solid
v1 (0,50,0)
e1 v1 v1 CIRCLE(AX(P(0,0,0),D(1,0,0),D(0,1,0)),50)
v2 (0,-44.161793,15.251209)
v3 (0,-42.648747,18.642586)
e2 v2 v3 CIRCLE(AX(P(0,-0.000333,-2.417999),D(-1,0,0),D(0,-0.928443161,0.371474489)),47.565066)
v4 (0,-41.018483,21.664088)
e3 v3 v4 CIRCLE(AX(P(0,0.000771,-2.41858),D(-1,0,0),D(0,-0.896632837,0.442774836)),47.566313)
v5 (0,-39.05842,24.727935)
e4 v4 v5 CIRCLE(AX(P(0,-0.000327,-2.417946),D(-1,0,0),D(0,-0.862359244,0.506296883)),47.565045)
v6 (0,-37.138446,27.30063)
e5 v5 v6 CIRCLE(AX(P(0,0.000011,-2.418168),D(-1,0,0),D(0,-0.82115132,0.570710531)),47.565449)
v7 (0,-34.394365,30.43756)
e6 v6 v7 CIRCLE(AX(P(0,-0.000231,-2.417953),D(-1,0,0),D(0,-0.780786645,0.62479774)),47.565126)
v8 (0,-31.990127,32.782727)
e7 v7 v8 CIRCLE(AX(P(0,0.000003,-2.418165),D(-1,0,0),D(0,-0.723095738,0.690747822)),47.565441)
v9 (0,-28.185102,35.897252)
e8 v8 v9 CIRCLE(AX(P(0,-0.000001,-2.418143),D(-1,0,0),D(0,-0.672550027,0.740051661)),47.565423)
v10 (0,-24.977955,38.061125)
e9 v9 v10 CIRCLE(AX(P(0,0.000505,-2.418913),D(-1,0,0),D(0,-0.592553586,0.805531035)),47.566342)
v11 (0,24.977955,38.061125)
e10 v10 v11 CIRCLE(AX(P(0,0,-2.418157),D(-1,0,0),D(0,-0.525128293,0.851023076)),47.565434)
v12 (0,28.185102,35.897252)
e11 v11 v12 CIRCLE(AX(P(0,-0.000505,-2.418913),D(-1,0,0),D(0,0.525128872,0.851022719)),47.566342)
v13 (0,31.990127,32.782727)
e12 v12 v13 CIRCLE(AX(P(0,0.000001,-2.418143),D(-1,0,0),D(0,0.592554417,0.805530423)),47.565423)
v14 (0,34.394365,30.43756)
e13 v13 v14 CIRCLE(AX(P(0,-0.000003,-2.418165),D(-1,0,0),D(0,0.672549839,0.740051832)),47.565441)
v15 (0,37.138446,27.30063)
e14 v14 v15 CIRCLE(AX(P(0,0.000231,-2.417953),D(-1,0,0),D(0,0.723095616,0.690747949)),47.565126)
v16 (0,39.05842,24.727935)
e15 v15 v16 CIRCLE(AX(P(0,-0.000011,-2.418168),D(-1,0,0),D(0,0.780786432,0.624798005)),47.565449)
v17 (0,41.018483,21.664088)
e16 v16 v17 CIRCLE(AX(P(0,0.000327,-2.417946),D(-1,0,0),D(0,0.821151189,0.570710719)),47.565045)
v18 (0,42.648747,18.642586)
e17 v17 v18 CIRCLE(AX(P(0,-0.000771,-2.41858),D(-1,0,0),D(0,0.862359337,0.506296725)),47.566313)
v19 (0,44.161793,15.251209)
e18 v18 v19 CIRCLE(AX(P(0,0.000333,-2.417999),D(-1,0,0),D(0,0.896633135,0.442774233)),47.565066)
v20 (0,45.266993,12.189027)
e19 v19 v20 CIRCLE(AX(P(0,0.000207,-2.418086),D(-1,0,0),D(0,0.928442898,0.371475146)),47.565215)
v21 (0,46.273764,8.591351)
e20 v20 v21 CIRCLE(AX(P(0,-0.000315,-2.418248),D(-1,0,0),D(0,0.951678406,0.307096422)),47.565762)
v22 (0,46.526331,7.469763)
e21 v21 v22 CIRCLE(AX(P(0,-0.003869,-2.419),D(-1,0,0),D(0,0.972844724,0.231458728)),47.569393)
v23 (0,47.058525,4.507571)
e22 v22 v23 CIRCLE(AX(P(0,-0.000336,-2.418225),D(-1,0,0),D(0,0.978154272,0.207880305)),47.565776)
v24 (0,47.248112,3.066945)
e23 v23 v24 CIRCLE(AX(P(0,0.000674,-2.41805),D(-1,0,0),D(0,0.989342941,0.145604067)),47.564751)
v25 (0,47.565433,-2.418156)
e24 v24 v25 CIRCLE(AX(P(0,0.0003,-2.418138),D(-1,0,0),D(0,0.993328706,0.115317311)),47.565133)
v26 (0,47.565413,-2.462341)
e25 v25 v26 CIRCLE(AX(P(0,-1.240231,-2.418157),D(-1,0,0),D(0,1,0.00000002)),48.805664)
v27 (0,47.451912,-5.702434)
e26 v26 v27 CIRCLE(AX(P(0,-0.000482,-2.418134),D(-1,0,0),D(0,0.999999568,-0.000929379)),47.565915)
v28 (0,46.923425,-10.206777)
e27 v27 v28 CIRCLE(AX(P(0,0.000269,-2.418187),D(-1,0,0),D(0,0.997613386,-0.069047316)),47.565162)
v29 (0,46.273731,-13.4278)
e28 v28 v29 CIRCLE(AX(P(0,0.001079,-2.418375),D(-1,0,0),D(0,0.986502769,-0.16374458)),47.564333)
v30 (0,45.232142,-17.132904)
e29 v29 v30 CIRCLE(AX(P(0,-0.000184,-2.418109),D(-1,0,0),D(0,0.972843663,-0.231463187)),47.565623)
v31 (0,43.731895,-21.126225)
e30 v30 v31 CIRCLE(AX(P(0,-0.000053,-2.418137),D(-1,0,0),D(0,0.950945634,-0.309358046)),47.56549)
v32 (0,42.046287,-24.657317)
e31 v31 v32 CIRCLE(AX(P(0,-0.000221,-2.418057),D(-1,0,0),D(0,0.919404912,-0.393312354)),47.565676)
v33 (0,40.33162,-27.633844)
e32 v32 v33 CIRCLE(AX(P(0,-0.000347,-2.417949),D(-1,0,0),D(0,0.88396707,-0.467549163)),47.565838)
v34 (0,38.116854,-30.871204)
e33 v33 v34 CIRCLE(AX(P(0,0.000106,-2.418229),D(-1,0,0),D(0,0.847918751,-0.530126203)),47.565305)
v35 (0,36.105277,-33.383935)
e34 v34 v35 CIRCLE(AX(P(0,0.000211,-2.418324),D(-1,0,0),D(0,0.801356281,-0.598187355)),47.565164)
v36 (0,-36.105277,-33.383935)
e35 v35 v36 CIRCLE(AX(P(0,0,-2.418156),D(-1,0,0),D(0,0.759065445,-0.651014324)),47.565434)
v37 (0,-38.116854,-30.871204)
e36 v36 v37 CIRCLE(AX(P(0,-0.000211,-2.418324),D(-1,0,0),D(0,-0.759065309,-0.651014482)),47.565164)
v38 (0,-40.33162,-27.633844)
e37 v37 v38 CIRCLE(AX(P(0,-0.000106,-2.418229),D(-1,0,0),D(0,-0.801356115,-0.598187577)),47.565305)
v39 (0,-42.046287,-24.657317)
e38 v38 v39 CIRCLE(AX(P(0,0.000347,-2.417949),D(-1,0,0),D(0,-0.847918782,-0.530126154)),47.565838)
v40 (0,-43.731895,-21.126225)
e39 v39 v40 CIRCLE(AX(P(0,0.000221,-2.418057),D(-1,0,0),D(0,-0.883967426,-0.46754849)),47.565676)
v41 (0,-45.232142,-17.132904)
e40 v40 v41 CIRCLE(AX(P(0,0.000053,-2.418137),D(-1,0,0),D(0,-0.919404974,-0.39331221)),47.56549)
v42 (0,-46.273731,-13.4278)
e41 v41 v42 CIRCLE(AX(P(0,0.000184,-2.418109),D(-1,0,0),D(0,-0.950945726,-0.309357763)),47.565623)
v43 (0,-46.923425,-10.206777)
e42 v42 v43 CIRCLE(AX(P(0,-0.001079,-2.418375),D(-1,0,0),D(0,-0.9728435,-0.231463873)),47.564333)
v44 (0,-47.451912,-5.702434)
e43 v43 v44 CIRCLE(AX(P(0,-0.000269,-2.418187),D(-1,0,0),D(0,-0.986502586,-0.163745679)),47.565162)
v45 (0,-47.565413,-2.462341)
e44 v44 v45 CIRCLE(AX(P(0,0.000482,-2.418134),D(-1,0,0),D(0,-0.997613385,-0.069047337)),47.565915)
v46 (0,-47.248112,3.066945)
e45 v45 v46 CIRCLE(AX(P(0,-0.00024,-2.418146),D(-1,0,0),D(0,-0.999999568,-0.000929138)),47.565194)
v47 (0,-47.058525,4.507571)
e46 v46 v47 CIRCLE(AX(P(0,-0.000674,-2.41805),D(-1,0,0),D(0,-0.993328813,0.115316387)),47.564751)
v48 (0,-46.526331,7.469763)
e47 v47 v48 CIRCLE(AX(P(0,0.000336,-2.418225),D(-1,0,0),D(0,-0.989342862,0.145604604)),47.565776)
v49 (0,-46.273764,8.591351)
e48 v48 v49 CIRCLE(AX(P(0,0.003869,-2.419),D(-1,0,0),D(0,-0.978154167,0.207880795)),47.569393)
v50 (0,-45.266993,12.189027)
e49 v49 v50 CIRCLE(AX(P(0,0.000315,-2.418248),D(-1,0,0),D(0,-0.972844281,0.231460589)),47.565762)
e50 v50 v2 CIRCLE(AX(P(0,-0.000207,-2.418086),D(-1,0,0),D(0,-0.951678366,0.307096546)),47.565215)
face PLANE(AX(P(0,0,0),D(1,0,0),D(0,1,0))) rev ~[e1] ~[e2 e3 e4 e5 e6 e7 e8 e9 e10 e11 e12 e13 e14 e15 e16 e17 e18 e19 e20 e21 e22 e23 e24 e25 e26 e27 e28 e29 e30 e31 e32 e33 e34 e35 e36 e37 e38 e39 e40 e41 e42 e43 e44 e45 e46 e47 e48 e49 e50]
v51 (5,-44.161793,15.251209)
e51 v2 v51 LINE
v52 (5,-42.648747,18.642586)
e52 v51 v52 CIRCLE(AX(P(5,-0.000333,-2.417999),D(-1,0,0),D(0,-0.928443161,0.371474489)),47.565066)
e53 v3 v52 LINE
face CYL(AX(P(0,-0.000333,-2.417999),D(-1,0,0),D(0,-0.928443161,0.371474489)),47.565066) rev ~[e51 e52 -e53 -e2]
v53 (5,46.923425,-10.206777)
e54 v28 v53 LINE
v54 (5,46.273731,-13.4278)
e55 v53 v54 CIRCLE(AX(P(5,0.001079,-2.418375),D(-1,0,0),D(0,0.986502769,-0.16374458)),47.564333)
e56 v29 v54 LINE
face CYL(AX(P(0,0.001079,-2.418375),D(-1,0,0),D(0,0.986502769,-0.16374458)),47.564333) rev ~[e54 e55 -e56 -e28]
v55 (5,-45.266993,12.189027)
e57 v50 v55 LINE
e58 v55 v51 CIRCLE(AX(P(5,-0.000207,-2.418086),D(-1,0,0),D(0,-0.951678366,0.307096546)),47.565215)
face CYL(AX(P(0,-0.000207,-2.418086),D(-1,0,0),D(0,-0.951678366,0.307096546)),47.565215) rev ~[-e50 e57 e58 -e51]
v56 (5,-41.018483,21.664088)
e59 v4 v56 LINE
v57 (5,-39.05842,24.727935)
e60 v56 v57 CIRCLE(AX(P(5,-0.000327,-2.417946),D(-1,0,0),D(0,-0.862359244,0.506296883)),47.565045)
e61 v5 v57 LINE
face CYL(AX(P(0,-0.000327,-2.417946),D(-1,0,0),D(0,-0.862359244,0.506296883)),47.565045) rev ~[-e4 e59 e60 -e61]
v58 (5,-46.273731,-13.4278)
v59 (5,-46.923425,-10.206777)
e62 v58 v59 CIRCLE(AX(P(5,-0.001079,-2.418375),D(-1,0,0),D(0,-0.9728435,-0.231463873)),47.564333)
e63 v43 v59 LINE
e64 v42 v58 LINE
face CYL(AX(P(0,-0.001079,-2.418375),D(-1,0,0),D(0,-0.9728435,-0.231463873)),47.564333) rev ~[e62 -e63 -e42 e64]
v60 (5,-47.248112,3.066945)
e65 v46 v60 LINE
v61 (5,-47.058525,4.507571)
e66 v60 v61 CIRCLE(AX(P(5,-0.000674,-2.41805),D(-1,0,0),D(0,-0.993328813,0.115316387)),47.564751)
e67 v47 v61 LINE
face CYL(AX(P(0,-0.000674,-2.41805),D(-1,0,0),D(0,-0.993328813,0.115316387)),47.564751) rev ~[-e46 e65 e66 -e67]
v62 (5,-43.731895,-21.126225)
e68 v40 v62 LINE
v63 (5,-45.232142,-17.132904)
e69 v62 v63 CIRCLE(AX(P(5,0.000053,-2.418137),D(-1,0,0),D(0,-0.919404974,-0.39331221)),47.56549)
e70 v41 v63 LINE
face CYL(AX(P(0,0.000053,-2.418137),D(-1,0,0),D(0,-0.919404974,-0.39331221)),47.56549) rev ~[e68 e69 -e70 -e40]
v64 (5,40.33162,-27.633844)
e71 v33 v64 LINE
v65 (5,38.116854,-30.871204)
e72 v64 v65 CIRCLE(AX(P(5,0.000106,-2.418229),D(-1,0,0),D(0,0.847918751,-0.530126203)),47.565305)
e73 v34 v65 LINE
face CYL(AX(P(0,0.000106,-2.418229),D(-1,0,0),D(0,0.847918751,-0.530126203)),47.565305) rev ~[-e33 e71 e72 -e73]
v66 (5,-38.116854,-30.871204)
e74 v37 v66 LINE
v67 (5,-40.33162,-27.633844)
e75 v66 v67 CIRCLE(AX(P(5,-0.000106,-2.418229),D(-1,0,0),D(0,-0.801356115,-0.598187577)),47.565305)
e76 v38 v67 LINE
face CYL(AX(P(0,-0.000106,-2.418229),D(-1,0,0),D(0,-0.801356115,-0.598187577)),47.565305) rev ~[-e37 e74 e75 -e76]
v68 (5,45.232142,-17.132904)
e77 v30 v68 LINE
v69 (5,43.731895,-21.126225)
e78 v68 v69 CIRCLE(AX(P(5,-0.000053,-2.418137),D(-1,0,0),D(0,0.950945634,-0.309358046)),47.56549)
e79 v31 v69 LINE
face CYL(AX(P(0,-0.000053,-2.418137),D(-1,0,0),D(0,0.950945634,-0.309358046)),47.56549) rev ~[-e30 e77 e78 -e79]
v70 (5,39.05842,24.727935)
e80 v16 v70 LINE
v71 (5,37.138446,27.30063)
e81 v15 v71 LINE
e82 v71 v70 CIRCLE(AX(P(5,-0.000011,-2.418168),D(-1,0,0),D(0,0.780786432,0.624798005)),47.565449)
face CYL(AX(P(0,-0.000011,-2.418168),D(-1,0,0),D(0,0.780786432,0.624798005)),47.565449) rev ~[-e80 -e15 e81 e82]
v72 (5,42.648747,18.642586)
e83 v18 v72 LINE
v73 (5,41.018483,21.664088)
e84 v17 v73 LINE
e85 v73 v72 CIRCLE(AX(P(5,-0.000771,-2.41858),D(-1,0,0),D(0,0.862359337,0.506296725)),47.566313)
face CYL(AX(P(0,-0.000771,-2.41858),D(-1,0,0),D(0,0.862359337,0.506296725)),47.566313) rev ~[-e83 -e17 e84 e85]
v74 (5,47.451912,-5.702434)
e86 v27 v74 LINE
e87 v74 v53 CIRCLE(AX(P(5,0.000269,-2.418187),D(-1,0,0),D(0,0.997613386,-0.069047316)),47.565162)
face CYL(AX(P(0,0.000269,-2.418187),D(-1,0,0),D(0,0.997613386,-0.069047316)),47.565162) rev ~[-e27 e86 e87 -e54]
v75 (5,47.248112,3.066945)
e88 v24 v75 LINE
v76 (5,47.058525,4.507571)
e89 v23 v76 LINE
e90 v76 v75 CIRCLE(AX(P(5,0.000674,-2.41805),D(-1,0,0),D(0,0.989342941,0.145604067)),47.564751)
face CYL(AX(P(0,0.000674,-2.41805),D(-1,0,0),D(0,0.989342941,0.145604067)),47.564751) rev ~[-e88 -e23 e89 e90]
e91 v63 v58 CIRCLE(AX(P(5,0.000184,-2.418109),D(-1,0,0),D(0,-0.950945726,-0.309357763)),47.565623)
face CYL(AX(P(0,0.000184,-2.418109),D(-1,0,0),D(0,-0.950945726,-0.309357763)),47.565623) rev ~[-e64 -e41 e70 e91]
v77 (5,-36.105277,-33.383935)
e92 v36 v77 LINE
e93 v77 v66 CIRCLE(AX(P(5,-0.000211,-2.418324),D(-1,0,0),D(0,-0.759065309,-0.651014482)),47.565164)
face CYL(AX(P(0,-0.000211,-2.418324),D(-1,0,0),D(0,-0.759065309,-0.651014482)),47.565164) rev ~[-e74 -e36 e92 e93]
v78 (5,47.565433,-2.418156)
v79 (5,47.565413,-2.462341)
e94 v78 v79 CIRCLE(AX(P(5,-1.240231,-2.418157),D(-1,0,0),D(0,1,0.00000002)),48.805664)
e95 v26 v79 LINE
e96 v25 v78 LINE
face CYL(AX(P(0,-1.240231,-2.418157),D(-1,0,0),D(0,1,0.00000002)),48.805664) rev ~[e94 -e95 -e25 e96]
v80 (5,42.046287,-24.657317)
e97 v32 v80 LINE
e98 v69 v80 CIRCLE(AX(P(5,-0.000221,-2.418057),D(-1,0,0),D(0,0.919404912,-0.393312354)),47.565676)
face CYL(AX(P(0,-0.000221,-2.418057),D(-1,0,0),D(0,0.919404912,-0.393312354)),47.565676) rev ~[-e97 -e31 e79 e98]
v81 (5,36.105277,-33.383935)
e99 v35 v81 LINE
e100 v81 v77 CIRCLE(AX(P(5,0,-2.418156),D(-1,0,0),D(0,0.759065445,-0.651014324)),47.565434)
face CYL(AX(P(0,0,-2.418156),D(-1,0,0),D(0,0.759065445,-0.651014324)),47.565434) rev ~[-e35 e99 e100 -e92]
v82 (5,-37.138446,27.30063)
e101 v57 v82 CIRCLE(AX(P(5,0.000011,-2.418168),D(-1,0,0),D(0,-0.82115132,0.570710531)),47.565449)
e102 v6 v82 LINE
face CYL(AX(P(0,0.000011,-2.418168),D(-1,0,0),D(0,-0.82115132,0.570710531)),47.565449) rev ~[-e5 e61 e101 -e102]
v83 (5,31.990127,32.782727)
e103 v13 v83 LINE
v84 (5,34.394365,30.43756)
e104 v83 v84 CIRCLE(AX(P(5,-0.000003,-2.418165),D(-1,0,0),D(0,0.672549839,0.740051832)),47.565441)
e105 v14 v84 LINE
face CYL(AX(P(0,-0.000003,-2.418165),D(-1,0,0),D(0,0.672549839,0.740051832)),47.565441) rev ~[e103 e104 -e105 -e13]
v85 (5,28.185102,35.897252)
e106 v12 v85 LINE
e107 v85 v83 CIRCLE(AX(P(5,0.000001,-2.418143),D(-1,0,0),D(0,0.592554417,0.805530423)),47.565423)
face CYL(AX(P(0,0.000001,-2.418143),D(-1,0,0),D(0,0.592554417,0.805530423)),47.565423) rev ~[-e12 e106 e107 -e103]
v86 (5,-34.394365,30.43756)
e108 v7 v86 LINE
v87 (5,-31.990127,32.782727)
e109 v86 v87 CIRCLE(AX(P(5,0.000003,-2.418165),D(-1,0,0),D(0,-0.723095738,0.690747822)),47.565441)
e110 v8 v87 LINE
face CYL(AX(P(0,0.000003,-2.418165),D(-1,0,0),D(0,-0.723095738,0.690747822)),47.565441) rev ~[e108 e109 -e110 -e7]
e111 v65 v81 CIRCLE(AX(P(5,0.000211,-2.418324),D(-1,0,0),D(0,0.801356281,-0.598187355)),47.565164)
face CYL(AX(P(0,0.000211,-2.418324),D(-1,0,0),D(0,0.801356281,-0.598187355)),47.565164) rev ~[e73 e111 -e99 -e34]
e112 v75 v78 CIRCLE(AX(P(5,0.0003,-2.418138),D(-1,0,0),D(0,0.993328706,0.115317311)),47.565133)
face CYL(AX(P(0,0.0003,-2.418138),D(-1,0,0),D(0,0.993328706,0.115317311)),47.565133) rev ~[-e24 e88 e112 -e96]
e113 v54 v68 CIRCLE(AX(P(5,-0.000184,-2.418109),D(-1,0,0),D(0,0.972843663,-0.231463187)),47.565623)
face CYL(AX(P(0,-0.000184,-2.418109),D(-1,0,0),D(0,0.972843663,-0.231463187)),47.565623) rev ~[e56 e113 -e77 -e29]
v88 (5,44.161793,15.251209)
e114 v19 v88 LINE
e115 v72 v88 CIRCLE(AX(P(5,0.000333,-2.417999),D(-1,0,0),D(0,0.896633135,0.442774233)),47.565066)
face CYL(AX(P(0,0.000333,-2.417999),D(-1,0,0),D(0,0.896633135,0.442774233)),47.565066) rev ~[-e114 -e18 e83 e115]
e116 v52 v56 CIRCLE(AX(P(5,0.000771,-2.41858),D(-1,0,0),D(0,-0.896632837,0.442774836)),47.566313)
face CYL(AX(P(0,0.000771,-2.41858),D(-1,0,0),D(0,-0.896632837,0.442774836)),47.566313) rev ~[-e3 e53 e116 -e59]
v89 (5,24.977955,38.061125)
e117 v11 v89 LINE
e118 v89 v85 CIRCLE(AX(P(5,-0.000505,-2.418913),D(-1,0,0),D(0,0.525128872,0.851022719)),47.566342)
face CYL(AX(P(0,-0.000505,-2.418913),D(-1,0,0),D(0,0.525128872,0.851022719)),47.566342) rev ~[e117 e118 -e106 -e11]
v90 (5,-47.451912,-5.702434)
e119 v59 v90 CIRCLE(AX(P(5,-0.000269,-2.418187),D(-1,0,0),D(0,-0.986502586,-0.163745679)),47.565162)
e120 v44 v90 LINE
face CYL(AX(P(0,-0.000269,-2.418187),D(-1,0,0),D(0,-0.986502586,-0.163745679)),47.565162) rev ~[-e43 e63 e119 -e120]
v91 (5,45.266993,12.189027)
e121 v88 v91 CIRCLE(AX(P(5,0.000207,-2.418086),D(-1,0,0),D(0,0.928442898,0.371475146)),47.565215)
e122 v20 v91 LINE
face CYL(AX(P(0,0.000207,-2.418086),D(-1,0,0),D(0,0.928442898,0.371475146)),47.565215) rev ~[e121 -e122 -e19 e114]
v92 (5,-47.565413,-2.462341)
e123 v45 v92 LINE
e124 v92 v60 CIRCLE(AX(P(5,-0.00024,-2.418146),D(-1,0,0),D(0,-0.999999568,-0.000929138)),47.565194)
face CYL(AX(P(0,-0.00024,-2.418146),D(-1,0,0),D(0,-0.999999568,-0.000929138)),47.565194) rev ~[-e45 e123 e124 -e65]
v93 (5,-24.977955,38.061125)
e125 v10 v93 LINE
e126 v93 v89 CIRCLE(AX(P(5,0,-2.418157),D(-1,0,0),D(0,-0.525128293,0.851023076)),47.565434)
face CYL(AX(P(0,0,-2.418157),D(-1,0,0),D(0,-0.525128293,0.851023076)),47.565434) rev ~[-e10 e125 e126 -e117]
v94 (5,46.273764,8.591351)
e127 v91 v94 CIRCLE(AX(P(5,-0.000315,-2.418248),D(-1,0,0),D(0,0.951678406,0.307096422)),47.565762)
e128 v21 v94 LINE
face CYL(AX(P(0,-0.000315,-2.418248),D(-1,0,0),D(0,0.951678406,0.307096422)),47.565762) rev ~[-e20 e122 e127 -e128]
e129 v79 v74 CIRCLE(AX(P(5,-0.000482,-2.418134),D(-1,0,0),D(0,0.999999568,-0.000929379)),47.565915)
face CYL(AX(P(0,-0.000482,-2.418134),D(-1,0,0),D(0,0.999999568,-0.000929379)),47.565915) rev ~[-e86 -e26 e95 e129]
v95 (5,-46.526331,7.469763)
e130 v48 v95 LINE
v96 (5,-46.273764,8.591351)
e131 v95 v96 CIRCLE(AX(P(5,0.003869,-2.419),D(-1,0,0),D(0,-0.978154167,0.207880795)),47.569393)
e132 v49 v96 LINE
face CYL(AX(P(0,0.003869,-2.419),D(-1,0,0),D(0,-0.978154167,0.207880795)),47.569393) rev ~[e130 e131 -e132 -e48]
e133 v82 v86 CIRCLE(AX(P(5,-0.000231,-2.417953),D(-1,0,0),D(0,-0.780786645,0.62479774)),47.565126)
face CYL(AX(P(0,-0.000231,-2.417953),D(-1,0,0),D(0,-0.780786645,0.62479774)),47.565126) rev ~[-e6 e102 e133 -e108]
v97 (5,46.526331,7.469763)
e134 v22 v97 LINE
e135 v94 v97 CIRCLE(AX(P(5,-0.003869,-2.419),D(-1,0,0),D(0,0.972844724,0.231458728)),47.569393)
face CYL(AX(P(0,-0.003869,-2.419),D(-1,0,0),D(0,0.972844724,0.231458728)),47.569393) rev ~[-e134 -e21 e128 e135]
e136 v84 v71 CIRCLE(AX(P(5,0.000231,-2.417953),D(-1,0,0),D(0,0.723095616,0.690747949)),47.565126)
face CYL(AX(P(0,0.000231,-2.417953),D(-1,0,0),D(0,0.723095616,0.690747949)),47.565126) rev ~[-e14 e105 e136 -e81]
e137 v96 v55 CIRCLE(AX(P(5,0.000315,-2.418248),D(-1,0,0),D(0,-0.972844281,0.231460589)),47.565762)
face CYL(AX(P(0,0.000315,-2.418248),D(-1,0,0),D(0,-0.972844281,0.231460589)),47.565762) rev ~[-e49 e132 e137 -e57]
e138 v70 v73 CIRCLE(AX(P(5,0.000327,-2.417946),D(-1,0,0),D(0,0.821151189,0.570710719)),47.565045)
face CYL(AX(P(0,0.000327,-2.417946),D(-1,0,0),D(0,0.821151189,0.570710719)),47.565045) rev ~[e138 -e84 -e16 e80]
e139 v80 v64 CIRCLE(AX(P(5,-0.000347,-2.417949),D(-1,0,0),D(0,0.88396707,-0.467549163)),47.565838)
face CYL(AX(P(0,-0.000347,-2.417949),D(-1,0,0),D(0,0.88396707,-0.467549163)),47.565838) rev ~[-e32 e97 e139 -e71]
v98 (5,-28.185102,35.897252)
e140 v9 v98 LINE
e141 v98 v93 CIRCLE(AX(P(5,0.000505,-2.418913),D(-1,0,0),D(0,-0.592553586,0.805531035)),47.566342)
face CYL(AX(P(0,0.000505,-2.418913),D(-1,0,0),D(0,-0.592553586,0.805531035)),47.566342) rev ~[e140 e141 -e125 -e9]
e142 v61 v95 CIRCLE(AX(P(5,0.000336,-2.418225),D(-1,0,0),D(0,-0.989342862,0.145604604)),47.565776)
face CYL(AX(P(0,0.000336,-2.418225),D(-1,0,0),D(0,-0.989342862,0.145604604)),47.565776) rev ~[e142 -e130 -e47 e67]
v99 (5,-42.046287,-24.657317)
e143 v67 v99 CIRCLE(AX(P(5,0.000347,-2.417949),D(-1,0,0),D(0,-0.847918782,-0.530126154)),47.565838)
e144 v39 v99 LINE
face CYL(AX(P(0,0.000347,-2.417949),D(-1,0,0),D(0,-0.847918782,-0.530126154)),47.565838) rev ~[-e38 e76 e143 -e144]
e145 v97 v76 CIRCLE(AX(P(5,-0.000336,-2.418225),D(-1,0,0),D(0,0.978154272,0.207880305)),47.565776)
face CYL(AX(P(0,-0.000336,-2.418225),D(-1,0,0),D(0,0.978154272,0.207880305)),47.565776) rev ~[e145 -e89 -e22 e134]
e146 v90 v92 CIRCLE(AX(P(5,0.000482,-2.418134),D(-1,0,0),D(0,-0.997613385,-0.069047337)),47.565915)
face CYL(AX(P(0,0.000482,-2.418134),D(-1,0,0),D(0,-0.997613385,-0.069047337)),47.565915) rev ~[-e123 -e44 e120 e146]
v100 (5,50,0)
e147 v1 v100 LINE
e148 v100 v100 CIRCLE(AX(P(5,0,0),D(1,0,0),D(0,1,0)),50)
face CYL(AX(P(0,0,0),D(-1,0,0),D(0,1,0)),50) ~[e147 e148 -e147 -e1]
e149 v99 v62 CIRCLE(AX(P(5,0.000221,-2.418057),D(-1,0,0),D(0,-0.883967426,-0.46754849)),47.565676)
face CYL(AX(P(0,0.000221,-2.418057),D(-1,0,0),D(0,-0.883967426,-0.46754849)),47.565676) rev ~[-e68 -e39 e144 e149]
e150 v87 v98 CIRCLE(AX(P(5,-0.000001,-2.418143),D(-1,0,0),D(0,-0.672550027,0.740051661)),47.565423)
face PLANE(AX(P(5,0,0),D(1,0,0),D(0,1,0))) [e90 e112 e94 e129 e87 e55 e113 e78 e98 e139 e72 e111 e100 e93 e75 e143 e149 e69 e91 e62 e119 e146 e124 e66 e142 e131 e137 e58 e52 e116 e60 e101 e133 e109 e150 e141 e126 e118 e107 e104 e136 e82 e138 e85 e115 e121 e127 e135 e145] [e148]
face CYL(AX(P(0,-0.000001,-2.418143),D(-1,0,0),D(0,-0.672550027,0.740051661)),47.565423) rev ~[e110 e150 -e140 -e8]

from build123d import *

# Parameters (mm, degrees)
F0_R     = 50
F1_DEPTH = 5


with BuildPart() as f1:
    # F0 (on Right) → F1 (new body)
    with BuildSketch(Plane.YZ):
        Circle(F0_R)
        with BuildLine():
            ThreePointArc((47.248112, 3.066945), (47.486037, 0.32898), (47.565433, -2.418156))
            ThreePointArc((47.565433, -2.418156), (47.565428, -2.440249), (47.565413, -2.462341))
            ThreePointArc((47.565413, -2.462341), (47.536276, -4.083355), (47.451912, -5.702434))
            ThreePointArc((47.451912, -5.702434), (47.241384, -7.960908), (46.923425, -10.206777))
            ThreePointArc((46.923425, -10.206777), (46.626401, -11.822901), (46.273731, -13.4278))
            ThreePointArc((46.273731, -13.4278), (45.790426, -15.290892), (45.232142, -17.132904))
            ThreePointArc((45.232142, -17.132904), (44.526808, -19.146391), (43.731895, -21.126225))
            ThreePointArc((43.731895, -21.126225), (42.925415, -22.909111), (42.046287, -24.657317))
            ThreePointArc((42.046287, -24.657317), (41.215832, -26.161064), (40.33162, -27.633844))
            ThreePointArc((40.33162, -27.633844), (39.257622, -29.275364), (38.116854, -30.871204))
            ThreePointArc((38.116854, -30.871204), (37.132326, -32.14459), (36.105277, -33.383935))
            ThreePointArc((36.105277, -33.383935), (0, -49.98359), (-36.105277, -33.383935))
            ThreePointArc((-36.105277, -33.383935), (-37.132326, -32.14459), (-38.116854, -30.871204))
            ThreePointArc((-38.116854, -30.871204), (-39.257622, -29.275364), (-40.33162, -27.633844))
            ThreePointArc((-40.33162, -27.633844), (-41.215832, -26.161064), (-42.046287, -24.657317))
            ThreePointArc((-42.046287, -24.657317), (-42.925415, -22.909111), (-43.731895, -21.126225))
            ThreePointArc((-43.731895, -21.126225), (-44.526808, -19.146391), (-45.232142, -17.132904))
            ThreePointArc((-45.232142, -17.132904), (-45.790426, -15.290892), (-46.273731, -13.4278))
            ThreePointArc((-46.273731, -13.4278), (-46.626401, -11.822901), (-46.923425, -10.206777))
            ThreePointArc((-46.923425, -10.206777), (-47.241384, -7.960908), (-47.451912, -5.702434))
            ThreePointArc((-47.451912, -5.702434), (-47.536276, -4.083355), (-47.565413, -2.462341))
            ThreePointArc((-47.565413, -2.462341), (-47.487308, 0.306924), (-47.248112, 3.066945))
            ThreePointArc((-47.248112, 3.066945), (-47.15882, 3.787982), (-47.058525, 4.507571))
            ThreePointArc((-47.058525, 4.507571), (-46.815862, 5.992878), (-46.526331, 7.469763))
            ThreePointArc((-46.526331, 7.469763), (-46.403436, 8.03132), (-46.273764, 8.591351))
            ThreePointArc((-46.273764, 8.591351), (-45.805713, 10.400077), (-45.266993, 12.189027))
            ThreePointArc((-45.266993, 12.189027), (-44.740599, 13.729576), (-44.161793, 15.251209))
            ThreePointArc((-44.161793, 15.251209), (-43.43838, 16.961669), (-42.648747, 18.642586))
            ThreePointArc((-42.648747, 18.642586), (-41.860885, 20.16805), (-41.018483, 21.664088))
            ThreePointArc((-41.018483, 21.664088), (-40.067748, 23.214753), (-39.05842, 24.727935))
            ThreePointArc((-39.05842, 24.727935), (-38.120143, 26.030484), (-37.138446, 27.30063))
            ThreePointArc((-37.138446, 27.30063), (-35.80078, 28.899165), (-34.394365, 30.43756))
            ThreePointArc((-34.394365, 30.43756), (-33.212951, 31.631371), (-31.990127, 32.782727))
            ThreePointArc((-31.990127, 32.782727), (-30.127888, 34.389191), (-28.185102, 35.897252))
            ThreePointArc((-28.185102, 35.897252), (-26.603538, 37.011809), (-24.977955, 38.061125))
            ThreePointArc((-24.977955, 38.061125), (0, 45.147277), (24.977955, 38.061125))
            ThreePointArc((24.977955, 38.061125), (26.603538, 37.011809), (28.185102, 35.897252))
            ThreePointArc((28.185102, 35.897252), (30.127888, 34.389191), (31.990127, 32.782727))
            ThreePointArc((31.990127, 32.782727), (33.212951, 31.631371), (34.394365, 30.43756))
            ThreePointArc((34.394365, 30.43756), (35.80078, 28.899165), (37.138446, 27.30063))
            ThreePointArc((37.138446, 27.30063), (38.120143, 26.030484), (39.05842, 24.727935))
            ThreePointArc((39.05842, 24.727935), (40.067748, 23.214753), (41.018483, 21.664088))
            ThreePointArc((41.018483, 21.664088), (41.860885, 20.16805), (42.648747, 18.642586))
            ThreePointArc((42.648747, 18.642586), (43.43838, 16.961669), (44.161793, 15.251209))
            ThreePointArc((44.161793, 15.251209), (44.740599, 13.729576), (45.266993, 12.189027))
            ThreePointArc((45.266993, 12.189027), (45.805713, 10.400077), (46.273764, 8.591351))
            ThreePointArc((46.273764, 8.591351), (46.403436, 8.03132), (46.526331, 7.469763))
            ThreePointArc((46.526331, 7.469763), (46.815862, 5.992878), (47.058525, 4.507571))
            ThreePointArc((47.058525, 4.507571), (47.15882, 3.787982), (47.248112, 3.066945))
        make_face(mode=Mode.SUBTRACT)
    extrude(amount=F1_DEPTH)


solid = f1.part
